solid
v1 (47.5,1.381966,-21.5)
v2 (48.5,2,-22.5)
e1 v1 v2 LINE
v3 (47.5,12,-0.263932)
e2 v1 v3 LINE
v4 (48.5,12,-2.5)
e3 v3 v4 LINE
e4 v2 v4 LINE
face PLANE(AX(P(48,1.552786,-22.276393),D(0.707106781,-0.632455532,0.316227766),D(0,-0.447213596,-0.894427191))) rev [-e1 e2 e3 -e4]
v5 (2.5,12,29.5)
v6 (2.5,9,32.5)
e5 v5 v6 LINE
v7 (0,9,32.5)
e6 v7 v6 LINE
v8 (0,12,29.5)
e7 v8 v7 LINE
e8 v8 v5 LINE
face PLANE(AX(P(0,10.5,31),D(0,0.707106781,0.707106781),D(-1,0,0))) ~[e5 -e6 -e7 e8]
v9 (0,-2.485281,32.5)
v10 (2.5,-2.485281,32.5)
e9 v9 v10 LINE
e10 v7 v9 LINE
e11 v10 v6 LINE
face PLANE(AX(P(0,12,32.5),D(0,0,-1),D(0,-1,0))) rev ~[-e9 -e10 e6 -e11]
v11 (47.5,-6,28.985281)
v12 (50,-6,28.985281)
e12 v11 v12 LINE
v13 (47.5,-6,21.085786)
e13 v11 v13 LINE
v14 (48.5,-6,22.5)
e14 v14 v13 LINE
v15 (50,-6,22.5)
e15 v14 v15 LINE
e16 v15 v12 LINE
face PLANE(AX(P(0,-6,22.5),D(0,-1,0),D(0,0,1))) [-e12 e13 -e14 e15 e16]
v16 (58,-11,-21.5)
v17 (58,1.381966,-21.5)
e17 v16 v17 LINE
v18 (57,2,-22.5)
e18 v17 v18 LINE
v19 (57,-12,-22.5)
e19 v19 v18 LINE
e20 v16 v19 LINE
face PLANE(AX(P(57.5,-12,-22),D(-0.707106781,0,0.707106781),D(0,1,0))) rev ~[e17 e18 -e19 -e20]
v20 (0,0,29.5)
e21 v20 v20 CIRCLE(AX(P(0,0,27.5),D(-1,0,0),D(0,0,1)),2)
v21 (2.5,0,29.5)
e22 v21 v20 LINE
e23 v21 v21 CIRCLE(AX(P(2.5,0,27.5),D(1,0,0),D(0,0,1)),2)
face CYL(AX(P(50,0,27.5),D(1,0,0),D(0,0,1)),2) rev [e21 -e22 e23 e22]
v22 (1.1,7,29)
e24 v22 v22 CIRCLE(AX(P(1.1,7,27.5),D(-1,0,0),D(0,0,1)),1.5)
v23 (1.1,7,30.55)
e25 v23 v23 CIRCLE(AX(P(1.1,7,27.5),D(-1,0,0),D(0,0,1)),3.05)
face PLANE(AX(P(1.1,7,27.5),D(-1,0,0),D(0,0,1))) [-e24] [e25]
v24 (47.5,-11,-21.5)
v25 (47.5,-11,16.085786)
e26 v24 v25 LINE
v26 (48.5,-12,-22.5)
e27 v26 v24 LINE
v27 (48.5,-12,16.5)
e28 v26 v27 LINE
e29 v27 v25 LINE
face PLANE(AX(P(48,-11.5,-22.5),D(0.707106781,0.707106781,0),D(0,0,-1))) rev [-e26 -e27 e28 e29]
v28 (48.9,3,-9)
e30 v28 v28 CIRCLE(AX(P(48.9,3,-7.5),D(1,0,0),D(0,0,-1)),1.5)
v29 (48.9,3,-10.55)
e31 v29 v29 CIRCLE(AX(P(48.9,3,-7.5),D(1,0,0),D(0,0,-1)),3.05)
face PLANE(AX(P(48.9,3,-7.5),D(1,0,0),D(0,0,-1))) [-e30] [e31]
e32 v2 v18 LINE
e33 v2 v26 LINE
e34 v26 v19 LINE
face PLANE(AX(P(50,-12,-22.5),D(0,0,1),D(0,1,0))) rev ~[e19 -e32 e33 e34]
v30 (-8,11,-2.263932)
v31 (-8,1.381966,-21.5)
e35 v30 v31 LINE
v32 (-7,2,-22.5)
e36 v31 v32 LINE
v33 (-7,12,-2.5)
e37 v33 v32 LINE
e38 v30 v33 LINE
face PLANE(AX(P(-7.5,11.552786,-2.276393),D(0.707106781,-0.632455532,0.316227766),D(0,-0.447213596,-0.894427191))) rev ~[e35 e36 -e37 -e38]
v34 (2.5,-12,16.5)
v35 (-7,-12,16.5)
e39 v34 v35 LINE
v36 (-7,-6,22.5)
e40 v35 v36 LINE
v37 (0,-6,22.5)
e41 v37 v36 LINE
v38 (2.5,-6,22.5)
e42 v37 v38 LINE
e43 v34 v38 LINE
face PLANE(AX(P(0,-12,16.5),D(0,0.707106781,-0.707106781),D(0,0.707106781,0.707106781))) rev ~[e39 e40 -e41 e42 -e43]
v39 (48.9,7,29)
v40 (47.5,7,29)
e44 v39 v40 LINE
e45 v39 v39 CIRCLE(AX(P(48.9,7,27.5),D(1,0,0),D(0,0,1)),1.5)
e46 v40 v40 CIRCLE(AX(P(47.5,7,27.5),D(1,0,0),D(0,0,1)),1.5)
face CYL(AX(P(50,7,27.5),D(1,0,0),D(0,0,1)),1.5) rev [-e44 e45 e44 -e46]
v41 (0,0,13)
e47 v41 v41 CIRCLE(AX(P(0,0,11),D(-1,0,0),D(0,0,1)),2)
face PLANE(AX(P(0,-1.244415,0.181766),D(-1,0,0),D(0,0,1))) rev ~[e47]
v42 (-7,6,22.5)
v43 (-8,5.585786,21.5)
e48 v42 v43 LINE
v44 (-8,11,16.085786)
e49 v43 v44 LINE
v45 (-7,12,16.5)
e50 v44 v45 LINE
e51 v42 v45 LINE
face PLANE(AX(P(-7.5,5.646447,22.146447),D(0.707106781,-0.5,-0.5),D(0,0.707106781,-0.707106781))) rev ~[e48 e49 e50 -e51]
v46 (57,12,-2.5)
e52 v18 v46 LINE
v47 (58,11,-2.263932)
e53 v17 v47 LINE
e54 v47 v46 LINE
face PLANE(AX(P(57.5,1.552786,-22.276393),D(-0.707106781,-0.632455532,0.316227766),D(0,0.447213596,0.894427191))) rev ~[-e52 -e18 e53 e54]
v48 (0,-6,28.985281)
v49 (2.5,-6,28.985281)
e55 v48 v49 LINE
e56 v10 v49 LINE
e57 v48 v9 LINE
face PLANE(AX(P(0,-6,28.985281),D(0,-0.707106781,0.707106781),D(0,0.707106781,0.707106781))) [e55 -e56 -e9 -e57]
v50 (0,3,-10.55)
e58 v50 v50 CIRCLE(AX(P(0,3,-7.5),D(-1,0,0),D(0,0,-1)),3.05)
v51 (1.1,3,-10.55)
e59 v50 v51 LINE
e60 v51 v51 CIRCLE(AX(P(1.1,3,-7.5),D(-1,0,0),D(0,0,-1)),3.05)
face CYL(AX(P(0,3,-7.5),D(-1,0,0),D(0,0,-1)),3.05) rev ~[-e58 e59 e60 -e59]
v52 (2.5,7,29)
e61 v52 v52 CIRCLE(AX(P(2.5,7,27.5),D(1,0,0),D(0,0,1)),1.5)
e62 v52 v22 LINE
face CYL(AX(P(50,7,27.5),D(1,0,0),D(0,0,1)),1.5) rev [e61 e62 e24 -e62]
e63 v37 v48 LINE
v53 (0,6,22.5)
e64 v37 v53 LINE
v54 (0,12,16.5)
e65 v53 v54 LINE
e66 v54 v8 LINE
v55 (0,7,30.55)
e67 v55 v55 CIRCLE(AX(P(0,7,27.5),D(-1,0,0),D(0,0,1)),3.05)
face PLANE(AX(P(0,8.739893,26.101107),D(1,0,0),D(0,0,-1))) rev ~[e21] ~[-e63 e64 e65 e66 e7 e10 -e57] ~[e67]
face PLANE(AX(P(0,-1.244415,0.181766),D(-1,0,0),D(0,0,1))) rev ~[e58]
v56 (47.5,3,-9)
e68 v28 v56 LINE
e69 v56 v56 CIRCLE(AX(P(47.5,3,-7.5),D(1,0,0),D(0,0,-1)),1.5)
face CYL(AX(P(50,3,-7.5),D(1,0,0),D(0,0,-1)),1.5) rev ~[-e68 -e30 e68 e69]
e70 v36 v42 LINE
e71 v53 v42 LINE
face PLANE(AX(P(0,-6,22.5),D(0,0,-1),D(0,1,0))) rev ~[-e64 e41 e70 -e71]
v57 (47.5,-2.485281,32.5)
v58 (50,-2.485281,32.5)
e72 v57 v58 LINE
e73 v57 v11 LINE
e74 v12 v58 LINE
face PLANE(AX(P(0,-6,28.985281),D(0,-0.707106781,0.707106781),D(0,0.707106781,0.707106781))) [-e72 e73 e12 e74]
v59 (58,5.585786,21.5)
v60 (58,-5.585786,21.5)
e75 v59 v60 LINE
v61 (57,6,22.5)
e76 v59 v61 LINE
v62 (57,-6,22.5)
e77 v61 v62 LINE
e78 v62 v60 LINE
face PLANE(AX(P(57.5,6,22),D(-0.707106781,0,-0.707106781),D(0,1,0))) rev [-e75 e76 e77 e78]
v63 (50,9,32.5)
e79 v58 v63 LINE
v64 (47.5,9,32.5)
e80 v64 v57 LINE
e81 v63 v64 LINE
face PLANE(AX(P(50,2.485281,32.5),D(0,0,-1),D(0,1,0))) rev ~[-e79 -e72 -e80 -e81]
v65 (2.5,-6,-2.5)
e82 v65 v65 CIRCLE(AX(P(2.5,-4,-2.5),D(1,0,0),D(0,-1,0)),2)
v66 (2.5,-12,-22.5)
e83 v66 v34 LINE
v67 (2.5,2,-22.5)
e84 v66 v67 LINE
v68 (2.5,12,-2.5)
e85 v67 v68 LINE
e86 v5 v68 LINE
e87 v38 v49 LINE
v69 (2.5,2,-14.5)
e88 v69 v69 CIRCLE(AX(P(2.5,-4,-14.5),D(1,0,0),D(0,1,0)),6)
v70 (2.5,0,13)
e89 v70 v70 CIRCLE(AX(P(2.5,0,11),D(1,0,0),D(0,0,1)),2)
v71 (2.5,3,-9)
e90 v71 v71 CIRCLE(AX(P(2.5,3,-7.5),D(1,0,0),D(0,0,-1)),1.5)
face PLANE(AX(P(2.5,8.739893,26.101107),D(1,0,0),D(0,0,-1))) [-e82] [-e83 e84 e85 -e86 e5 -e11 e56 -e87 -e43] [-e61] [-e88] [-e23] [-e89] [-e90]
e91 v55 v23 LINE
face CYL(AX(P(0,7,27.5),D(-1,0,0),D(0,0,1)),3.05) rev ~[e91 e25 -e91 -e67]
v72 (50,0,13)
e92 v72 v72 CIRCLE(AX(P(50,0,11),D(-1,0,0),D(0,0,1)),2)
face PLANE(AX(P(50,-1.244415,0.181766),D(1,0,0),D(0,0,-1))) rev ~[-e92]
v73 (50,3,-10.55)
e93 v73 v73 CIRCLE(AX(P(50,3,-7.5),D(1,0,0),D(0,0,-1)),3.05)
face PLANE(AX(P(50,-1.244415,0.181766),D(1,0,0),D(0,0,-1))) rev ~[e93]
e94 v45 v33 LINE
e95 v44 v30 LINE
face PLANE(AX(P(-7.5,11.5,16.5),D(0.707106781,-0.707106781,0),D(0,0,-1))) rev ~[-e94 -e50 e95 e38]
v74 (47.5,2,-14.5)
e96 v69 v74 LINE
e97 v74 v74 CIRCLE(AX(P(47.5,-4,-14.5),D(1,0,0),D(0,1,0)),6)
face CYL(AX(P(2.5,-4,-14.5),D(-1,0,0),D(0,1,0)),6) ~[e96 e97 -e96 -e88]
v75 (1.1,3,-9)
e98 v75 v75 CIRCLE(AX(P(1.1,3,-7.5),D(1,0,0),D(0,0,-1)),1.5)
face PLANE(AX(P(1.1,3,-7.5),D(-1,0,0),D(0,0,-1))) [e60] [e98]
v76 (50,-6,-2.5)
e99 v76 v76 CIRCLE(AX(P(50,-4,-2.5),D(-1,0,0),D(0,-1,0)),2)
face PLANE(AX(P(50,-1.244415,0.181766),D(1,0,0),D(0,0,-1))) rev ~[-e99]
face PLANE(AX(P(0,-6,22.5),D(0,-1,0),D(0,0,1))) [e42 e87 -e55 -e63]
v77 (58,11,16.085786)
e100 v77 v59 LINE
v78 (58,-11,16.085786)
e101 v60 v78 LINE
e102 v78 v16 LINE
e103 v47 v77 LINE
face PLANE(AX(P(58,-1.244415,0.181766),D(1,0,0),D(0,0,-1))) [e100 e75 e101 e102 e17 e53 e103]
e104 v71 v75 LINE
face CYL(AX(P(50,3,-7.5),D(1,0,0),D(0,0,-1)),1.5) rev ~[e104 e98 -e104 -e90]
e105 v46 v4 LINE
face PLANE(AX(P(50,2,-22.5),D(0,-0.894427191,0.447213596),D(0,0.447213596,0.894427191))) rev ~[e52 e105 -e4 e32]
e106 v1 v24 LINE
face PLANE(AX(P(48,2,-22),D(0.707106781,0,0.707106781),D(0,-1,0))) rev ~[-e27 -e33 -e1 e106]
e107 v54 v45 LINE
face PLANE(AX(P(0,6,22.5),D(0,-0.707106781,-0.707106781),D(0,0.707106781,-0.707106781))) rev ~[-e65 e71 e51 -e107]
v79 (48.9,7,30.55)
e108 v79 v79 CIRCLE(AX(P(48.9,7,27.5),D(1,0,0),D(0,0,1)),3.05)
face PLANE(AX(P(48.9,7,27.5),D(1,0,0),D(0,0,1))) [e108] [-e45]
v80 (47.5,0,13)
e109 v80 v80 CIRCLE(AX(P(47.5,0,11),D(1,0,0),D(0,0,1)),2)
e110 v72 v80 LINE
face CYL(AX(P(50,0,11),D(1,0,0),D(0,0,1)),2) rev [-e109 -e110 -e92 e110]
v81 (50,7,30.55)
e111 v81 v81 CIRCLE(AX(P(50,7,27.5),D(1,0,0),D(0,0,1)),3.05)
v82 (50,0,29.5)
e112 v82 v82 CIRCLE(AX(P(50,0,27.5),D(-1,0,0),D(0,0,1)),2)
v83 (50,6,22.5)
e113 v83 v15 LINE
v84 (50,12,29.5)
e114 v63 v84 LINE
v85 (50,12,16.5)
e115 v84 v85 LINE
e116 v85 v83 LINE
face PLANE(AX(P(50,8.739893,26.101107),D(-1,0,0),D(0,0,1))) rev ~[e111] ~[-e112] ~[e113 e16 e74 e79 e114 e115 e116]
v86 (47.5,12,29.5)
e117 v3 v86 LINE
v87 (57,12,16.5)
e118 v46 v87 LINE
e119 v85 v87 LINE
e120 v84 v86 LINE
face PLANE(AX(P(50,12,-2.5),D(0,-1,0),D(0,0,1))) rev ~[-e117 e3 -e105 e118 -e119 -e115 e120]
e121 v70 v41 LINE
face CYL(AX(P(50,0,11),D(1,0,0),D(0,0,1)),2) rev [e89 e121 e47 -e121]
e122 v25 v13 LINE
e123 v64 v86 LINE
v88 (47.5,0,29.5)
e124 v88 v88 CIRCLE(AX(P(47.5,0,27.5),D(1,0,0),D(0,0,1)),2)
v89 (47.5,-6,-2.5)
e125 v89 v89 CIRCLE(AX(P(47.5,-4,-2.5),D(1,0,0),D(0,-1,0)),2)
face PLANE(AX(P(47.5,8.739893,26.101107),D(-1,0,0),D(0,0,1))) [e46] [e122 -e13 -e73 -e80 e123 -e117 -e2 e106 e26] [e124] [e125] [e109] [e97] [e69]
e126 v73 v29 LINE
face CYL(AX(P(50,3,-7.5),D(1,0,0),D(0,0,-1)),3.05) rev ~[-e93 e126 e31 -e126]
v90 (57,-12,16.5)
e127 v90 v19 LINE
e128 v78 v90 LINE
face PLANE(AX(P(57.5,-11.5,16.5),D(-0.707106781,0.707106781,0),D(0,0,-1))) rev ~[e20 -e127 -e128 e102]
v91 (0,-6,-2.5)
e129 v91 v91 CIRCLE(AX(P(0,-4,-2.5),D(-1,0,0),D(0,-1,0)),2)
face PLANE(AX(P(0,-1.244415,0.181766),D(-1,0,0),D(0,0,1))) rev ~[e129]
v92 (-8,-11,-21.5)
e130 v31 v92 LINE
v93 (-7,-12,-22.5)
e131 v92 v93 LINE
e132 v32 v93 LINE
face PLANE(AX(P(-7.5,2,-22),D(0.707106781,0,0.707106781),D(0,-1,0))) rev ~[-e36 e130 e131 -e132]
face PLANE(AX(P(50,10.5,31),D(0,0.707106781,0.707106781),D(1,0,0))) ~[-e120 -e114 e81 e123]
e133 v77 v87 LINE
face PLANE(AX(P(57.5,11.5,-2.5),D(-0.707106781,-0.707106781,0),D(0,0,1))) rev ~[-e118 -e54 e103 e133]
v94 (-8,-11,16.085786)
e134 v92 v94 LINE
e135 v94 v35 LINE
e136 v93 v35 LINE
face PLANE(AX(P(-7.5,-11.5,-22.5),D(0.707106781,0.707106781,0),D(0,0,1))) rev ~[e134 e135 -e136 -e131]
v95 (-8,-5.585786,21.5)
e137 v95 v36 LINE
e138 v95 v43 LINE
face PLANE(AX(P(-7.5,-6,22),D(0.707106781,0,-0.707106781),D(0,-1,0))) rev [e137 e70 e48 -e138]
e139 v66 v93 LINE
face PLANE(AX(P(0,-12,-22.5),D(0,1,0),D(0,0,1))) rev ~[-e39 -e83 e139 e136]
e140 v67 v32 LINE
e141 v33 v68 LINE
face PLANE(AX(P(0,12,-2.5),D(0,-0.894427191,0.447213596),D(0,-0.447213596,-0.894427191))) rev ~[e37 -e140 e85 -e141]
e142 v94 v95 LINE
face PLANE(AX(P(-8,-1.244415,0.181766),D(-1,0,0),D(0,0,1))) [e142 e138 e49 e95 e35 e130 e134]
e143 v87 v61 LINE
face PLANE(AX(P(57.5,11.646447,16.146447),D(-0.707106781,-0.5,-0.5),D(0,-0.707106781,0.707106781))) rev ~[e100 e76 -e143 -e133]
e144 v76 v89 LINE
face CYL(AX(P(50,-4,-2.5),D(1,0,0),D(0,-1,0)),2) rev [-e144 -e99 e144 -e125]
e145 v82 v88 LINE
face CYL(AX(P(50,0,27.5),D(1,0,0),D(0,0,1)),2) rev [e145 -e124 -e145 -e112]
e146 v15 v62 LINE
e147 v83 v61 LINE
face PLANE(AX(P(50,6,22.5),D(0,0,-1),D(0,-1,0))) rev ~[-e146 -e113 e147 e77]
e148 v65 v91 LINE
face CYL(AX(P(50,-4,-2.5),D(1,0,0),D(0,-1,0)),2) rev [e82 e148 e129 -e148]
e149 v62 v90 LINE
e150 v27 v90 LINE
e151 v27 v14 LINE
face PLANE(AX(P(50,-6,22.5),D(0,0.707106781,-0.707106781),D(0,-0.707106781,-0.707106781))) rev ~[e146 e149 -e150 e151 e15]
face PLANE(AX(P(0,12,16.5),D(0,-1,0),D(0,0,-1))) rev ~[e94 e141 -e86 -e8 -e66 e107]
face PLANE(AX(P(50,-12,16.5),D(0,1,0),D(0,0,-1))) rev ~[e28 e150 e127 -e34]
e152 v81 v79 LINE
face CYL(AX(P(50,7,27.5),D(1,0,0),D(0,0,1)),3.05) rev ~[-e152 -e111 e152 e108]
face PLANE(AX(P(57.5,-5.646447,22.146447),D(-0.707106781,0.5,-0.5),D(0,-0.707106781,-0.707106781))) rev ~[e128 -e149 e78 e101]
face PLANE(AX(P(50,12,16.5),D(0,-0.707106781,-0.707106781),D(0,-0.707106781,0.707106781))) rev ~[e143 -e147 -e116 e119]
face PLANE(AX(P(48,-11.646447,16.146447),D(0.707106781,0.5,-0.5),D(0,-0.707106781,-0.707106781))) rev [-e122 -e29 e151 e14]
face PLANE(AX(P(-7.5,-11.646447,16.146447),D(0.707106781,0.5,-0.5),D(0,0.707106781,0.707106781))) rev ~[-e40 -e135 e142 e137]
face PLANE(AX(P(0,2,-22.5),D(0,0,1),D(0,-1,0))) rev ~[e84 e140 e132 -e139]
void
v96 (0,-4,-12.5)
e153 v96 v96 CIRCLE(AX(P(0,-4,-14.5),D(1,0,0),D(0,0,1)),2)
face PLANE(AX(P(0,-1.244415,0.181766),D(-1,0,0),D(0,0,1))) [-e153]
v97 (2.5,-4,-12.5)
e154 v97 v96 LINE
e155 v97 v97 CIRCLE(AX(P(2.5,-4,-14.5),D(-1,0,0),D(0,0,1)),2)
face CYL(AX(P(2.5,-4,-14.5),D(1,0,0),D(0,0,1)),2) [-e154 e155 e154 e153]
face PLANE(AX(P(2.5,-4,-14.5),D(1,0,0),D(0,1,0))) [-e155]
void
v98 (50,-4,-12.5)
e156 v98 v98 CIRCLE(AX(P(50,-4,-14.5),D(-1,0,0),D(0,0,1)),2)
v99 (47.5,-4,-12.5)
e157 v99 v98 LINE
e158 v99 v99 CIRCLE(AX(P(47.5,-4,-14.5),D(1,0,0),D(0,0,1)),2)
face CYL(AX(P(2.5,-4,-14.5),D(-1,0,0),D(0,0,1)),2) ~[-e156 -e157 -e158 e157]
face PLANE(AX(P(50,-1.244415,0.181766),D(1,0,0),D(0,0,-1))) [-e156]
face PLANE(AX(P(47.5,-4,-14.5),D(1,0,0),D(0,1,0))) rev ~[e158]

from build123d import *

# Parameters (mm, degrees)
SKETCH2_W                      = 45
SKETCH2_H                      = 24
BOSS_EXTRUDE1_DEPTH            = 50
CUT_EXTRUDE7_DEPTH             = 50
CHAMFER4_SIZE                  = 6
CUT_EXTRUDE1_REACH             = 70.33
SKETCH3_W                      = 45
SKETCH3_H                      = 10
CUT_EXTRUDE2_REACH             = 55.912
SKETCH4_R                      = 2
CUT_EXTRUDE2_DIRECTION_2_REACH = 55.912
SKETCH8_W                      = 45
SKETCH8_H                      = 50
CUT_EXTRUDE4_DEPTH             = 14
SKETCH6_R                      = 6
BOSS_EXTRUDE2_DEPTH            = 45
CUT_EXTRUDE3_START             = -50
SKETCH7_R                      = 2
CUT_EXTRUDE3_DEPTH             = 50
CUT_EXTRUDE6_START             = -2.5
SKETCH13_R                     = 2
CUT_EXTRUDE6_DEPTH             = 50
BOSS_EXTRUDE16_REACH           = 58.127
CUT_EXTRUDE13_REACH            = 64.292
SKETCH30_W                     = 45
SKETCH30_H                     = 10
CUT_EXTRUDE18_START            = -50
SKETCH37_R                     = 2
CUT_EXTRUDE18_DEPTH            = 50
CUT_EXTRUDE20_REACH            = 62.83
SKETCH43_R                     = 1.5
SKETCH44_R                     = 3.05
CUT_EXTRUDE21_DEPTH            = 1.1
SKETCH45_R                     = 3.05
CUT_EXTRUDE22_DEPTH            = 1.1
BOSS_EXTRUDE23_DEPTH           = 2.5
BOSS_EXTRUDE24_DEPTH           = 2.5
SKETCH55_R                     = 3.05
CUT_EXTRUDE28_DEPTH            = 1.1
CUT_EXTRUDE29_START            = -50
SKETCH57_R                     = 1.5
CUT_EXTRUDE29_DEPTH            = 48.9
SKETCH58_R                     = 3.05
CUT_EXTRUDE30_DEPTH            = 1.1
CHAMFER11_SIZE                 = 3
BOSS_EXTRUDE19_DEPTH           = 8
BOSS_EXTRUDE20_DEPTH           = 8
CHAMFER7_SIZE                  = 1
CHAMFER8_SIZE                  = 1


with BuildPart() as part:
    # Sketch2 → Boss-Extrude1 (new body)
    with BuildSketch(Plane(origin=(0, 0, 0), x_dir=(0, 0, -1), z_dir=(1, 0, 0))):
        Rectangle(SKETCH2_W, SKETCH2_H)
    extrude(amount=BOSS_EXTRUDE1_DEPTH)

    # Sketch14 → Cut-Extrude7 (cut)
    with BuildSketch(Plane(origin=(50, 0, 0), x_dir=(0, 0, -1), z_dir=(1, 0, 0))):
        Polygon((2.5, 12), (22.5, 2), (22.5, 12), align=None)
    extrude(amount=-CUT_EXTRUDE7_DEPTH, mode=Mode.SUBTRACT)

    # Chamfer4
    chamfer4_edges = [part.edges().sort_by_distance(p)[0] for p in [
        (25, -12, 22.5),
        (25, 12, 22.5),
    ]]
    chamfer(chamfer4_edges, length=CHAMFER4_SIZE)

    # Cut-Extrude1: up to this face of the body (flat: up to its plane)
    cut_extrude1_end = Plane(part.part.faces().sort_by_distance((25, 0, 22.5))[0])
    # Sketch3 → Cut-Extrude1 (cut, up to the picked face)
    with BuildSketch(Plane(origin=(0, 0, -22.5), x_dir=(-1, 0, 0), z_dir=(0, 0, -1)), mode=Mode.PRIVATE) as cut_extrude1_sk1:
        with Locations((-25, -7)):
            Rectangle(SKETCH3_W, SKETCH3_H)
    cut_extrude1_tool1 = split(extrude(cut_extrude1_sk1.sketch, amount=-CUT_EXTRUDE1_REACH, mode=Mode.PRIVATE), bisect_by=cut_extrude1_end, keep=Keep.BOTH, mode=Mode.PRIVATE)
    add(cut_extrude1_tool1.solids().sort_by(Axis((25, -7, -22.5), (0, 0, 1)))[0], mode=Mode.SUBTRACT)

    # Cut-Extrude2: up to this face of the body (flat: up to its plane)
    cut_extrude2_end = Plane(part.part.faces().sort_by_distance((50, -0.918079096, 0.895480226))[0])
    # Sketch4 → Cut-Extrude2 (cut, up to the picked face)
    with BuildSketch(Plane(origin=(2.5, 0, 0), x_dir=(0, 0, -1), z_dir=(1, 0, 0)), mode=Mode.PRIVATE) as cut_extrude2_sk1:
        with Locations(Location((14.5, -4, 0), (0, 0, 180))):
            Circle(SKETCH4_R)
    cut_extrude2_tool1 = split(extrude(cut_extrude2_sk1.sketch, amount=CUT_EXTRUDE2_REACH, mode=Mode.PRIVATE), bisect_by=cut_extrude2_end, keep=Keep.BOTH, mode=Mode.PRIVATE)
    add(cut_extrude2_tool1.solids().sort_by(Axis((2.5, -4, -14.5), (1, 0, 0)))[0], mode=Mode.SUBTRACT)

    # Cut-Extrude2 direction 2: up to this face of the body (flat: up to its plane)
    cut_extrude2_direction_2_end = Plane(part.part.faces().sort_by_distance((0, -0.918079096, 0.895480226))[0])
    # Sketch4 → Cut-Extrude2 direction 2 (cut, up to the picked face)
    with BuildSketch(Plane(origin=(2.5, 0, 0), x_dir=(0, 0, -1), z_dir=(1, 0, 0)), mode=Mode.PRIVATE) as cut_extrude2_direction_2_sk1:
        with Locations(Location((14.5, -4, 0), (0, 0, 180))):
            Circle(SKETCH4_R)
    cut_extrude2_direction_2_tool1 = split(extrude(cut_extrude2_direction_2_sk1.sketch, amount=-CUT_EXTRUDE2_DIRECTION_2_REACH, mode=Mode.PRIVATE), bisect_by=cut_extrude2_direction_2_end, keep=Keep.BOTH, mode=Mode.PRIVATE)
    add(cut_extrude2_direction_2_tool1.solids().sort_by(Axis((2.5, -4, -14.5), (-1, 0, 0)))[0], mode=Mode.SUBTRACT)

    # Sketch8 → Cut-Extrude4 (cut)
    with BuildSketch(Plane(origin=(0, 12, 0), x_dir=(1, 0, 0), z_dir=(0, 1, 0))):
        with Locations((25, 2.5)):
            Rectangle(SKETCH8_W, SKETCH8_H)
    extrude(amount=-CUT_EXTRUDE4_DEPTH, mode=Mode.SUBTRACT)


with BuildPart() as cut_extrude4_piece_1:
    # of the separate pieces the step leaves, piece 1, a body of its own (cut_extrude4_pieces)
    add(part.part.solids().sort_by_distance((0, -12, 16.5))[0])


with BuildPart() as cut_extrude4_piece_2:
    # of the separate pieces the step leaves, piece 2, a body of its own (cut_extrude4_pieces)
    add(part.part.solids().sort_by_distance((50, 2, -22.5))[0])

    # Sketch6 → Boss-Extrude2 (add)
    with BuildSketch(Plane(origin=(2.5, 0, 0), x_dir=(0, 0, -1), z_dir=(1, 0, 0))):
        with Locations(Location((14.5, -4, 0), (0, 0, 90))):
            Circle(SKETCH6_R)
    extrude(amount=BOSS_EXTRUDE2_DEPTH)


with BuildPart() as cut_extrude3_tool:
    # Sketch7 → Cut-Extrude3 (new body)
    with BuildSketch(Plane.ZY.offset(CUT_EXTRUDE3_START)):
        with Locations((11, 0)):
            Circle(SKETCH7_R)
    extrude(amount=CUT_EXTRUDE3_DEPTH)


with BuildPart() as cut_extrude4_piece_1_1:
    add(cut_extrude4_piece_1.part)

    # Cut-Extrude3: cut by cut_extrude3_tool
    add(cut_extrude3_tool.part, mode=Mode.SUBTRACT)


with BuildPart() as cut_extrude4_piece_2_1:
    add(cut_extrude4_piece_2.part)

    # Cut-Extrude3: cut by cut_extrude3_tool
    add(cut_extrude3_tool.part, mode=Mode.SUBTRACT)


with BuildPart() as cut_extrude6_tool:
    # Sketch13 → Cut-Extrude6 (new body)
    with BuildSketch(Plane.ZY.offset(-47.5).offset(CUT_EXTRUDE6_START)):
        with Locations(Location((-2.5, -4, 0), (0, 0, 270))):
            Circle(SKETCH13_R)
    extrude(amount=CUT_EXTRUDE6_DEPTH)


with BuildPart() as cut_extrude4_piece_1_2:
    add(cut_extrude4_piece_1_1.part)

    # Cut-Extrude6: cut by cut_extrude6_tool
    add(cut_extrude6_tool.part, mode=Mode.SUBTRACT)


with BuildPart() as cut_extrude4_piece_2_2:
    add(cut_extrude4_piece_2_1.part)

    # Cut-Extrude6: cut by cut_extrude6_tool
    add(cut_extrude6_tool.part, mode=Mode.SUBTRACT)

    # Boss-Extrude16: up to this face of the body (flat: up to its plane)
    boss_extrude16_end = Plane(cut_extrude4_piece_2_2.part.faces().sort_by_distance((50, -0.845343651, 1.015922603))[0])
    # Sketch29 → Boss-Extrude16 (add, up to the picked face)
    with BuildSketch(Plane.ZY, mode=Mode.PRIVATE) as boss_extrude16_sk1:
        Polygon((28.985281374, 6), (22.5, 6), (22.5, -6), (28.985281374, -6), (32.5, -2.485281374), (32.5, 2.485281374), align=None)
    boss_extrude16_tool1 = split(extrude(boss_extrude16_sk1.sketch, amount=-BOSS_EXTRUDE16_REACH, mode=Mode.PRIVATE), bisect_by=boss_extrude16_end, keep=Keep.BOTH, mode=Mode.PRIVATE)

    add(cut_extrude4_piece_1_2.part)  # Boss-Extrude16 merges Cut-Extrude4 piece 1
    add(boss_extrude16_tool1.solids().sort_by(Axis((0, 0, 27.06066), (1, 0, 0)))[0])

    # Cut-Extrude13: up to this plane
    cut_extrude13_end = Plane(origin=(65.620499352, -6, 28.985281374), z_dir=(0, -0.7071067811865474, 0.7071067811865477))
    # Sketch30 → Cut-Extrude13 (cut, up to the surface)
    with BuildSketch(Plane(origin=(0, 6, 0), x_dir=(1, 0, 0), z_dir=(0, 1, 0)), mode=Mode.PRIVATE) as cut_extrude13_sk1:
        with Locations((25, -27.5)):
            Rectangle(SKETCH30_W, SKETCH30_H)
    cut_extrude13_tool1 = split(extrude(cut_extrude13_sk1.sketch, amount=-CUT_EXTRUDE13_REACH, mode=Mode.PRIVATE), bisect_by=cut_extrude13_end, keep=Keep.BOTH, mode=Mode.PRIVATE)
    add(cut_extrude13_tool1.solids().sort_by_distance((25, 6, 27.5))[0], mode=Mode.SUBTRACT)

    # Sketch37 → Cut-Extrude18 (cut)
    with BuildSketch(Plane.ZY.offset(CUT_EXTRUDE18_START)):
        with Locations((27.5, 0)):
            Circle(SKETCH37_R)
    extrude(amount=CUT_EXTRUDE18_DEPTH, mode=Mode.SUBTRACT)

    # Cut-Extrude20: up to this face of the body (flat: up to its plane)
    cut_extrude20_end = Plane(cut_extrude4_piece_2_2.part.faces().sort_by_distance((0, -0.765078921, 3.483337135))[0])
    # Sketch43 → Cut-Extrude20 (cut, up to the picked face)
    with BuildSketch(Plane(origin=(50, 0, 0), x_dir=(0, 0, -1), z_dir=(1, 0, 0)), mode=Mode.PRIVATE) as cut_extrude20_sk1:
        with Locations((7.5, 3)):
            Circle(SKETCH43_R)
    cut_extrude20_tool1 = split(extrude(cut_extrude20_sk1.sketch, amount=-CUT_EXTRUDE20_REACH, mode=Mode.PRIVATE), bisect_by=cut_extrude20_end, keep=Keep.BOTH, mode=Mode.PRIVATE)
    add(cut_extrude20_tool1.solids().sort_by(Axis((50, 3, -7.5), (-1, 0, 0)))[0], mode=Mode.SUBTRACT)

    # Sketch44 → Cut-Extrude21 (cut)
    with BuildSketch(Plane(origin=(50, 0, 0), x_dir=(0, 0, -1), z_dir=(1, 0, 0))):
        with Locations((7.5, 3)):
            Circle(SKETCH44_R)
    extrude(amount=-CUT_EXTRUDE21_DEPTH, mode=Mode.SUBTRACT)

    # Sketch45 → Cut-Extrude22 (cut)
    with BuildSketch(Plane.ZY):
        with Locations(Location((-7.5, 3, 0), (0, 0, 180))):
            Circle(SKETCH45_R)
    extrude(amount=-CUT_EXTRUDE22_DEPTH, mode=Mode.SUBTRACT)

    # Sketch48 → Boss-Extrude23 (add)
    with BuildSketch(Plane(origin=(50, 0, 0), x_dir=(0, 0, -1), z_dir=(1, 0, 0))):
        Polygon((-16.5, 12), (-22.5, 6), (-28.985281374, 6), (-32.5, 2.485281374), (-32.5, 12), align=None)
    extrude(amount=-BOSS_EXTRUDE23_DEPTH)

    # Sketch49 → Boss-Extrude24 (add)
    with BuildSketch(Plane.ZY):
        Polygon((28.985281374, 6), (22.5, 6), (16.5, 12), (32.5, 12), (32.5, 2.485281374), align=None)
    extrude(amount=-BOSS_EXTRUDE24_DEPTH)

    # Sketch55 → Cut-Extrude28 (cut)
    with BuildSketch(Plane.ZY):
        with Locations((27.5, 7)):
            Circle(SKETCH55_R)
    extrude(amount=-CUT_EXTRUDE28_DEPTH, mode=Mode.SUBTRACT)

    # Sketch57 → Cut-Extrude29 (cut)
    with BuildSketch(Plane.ZY.offset(CUT_EXTRUDE29_START)):
        with Locations((27.5, 7)):
            Circle(SKETCH57_R)
    extrude(amount=CUT_EXTRUDE29_DEPTH, mode=Mode.SUBTRACT)

    # Sketch58 → Cut-Extrude30 (cut)
    with BuildSketch(Plane(origin=(50, 0, 0), x_dir=(0, 0, -1), z_dir=(1, 0, 0))):
        with Locations(Location((-27.5, 7, 0), (0, 0, 180))):
            Circle(SKETCH58_R)
    extrude(amount=-CUT_EXTRUDE30_DEPTH, mode=Mode.SUBTRACT)

    # Chamfer11
    chamfer11_edges = [cut_extrude4_piece_2_2.edges().sort_by_distance(p)[0] for p in [
        (48.75, 12, 32.5),
        (1.25, 12, 32.5),
    ]]
    chamfer(chamfer11_edges, length=CHAMFER11_SIZE)

    # Sketch38 → Boss-Extrude19 (add)
    with BuildSketch(Plane.ZY):
        Polygon((-2.5, 12), (-22.5, 2), (-22.5, -12), (16.5, -12), (22.5, -6), (22.5, 6), (16.5, 12), align=None)
    extrude(amount=BOSS_EXTRUDE19_DEPTH)

    # Sketch39 → Boss-Extrude20 (add)
    with BuildSketch(Plane(origin=(50, 0, 0), x_dir=(0, 0, -1), z_dir=(1, 0, 0))):
        Polygon((-22.5, 6), (-22.5, -6), (-16.5, -12), (22.5, -12), (22.5, 2), (2.5, 12), (-16.5, 12), align=None)
    extrude(amount=BOSS_EXTRUDE20_DEPTH)

    # Chamfer7
    chamfer7_edges = [cut_extrude4_piece_2_2.edges().sort_by_distance(p)[0] for p in [
        (-8, 12, 7),
        (-8, 7, -12.5),
        (-8, -5, -22.5),
        (-8, -12, -3),
        (-8, -9, 19.5),
        (-8, 0, 22.5),
        (-8, 9, 19.5),
        (58, 9, 19.5),
        (58, 0, 22.5),
        (58, -9, 19.5),
        (58, -12, -3),
        (58, -5, -22.5),
        (58, 7, -12.5),
        (58, 12, 7),
    ]]
    chamfer(chamfer7_edges, length=CHAMFER7_SIZE)

    # Chamfer8
    chamfer8_edges = [cut_extrude4_piece_2_2.edges().sort_by_distance(p)[0] for p in [
        (47.5, -12, -3),
        (47.5, -5, -22.5),
        (47.5, -9, 19.5),
        (47.5, 7, -12.5),
    ]]
    chamfer(chamfer8_edges, length=CHAMFER8_SIZE)


solid = cut_extrude4_piece_2_2.part
